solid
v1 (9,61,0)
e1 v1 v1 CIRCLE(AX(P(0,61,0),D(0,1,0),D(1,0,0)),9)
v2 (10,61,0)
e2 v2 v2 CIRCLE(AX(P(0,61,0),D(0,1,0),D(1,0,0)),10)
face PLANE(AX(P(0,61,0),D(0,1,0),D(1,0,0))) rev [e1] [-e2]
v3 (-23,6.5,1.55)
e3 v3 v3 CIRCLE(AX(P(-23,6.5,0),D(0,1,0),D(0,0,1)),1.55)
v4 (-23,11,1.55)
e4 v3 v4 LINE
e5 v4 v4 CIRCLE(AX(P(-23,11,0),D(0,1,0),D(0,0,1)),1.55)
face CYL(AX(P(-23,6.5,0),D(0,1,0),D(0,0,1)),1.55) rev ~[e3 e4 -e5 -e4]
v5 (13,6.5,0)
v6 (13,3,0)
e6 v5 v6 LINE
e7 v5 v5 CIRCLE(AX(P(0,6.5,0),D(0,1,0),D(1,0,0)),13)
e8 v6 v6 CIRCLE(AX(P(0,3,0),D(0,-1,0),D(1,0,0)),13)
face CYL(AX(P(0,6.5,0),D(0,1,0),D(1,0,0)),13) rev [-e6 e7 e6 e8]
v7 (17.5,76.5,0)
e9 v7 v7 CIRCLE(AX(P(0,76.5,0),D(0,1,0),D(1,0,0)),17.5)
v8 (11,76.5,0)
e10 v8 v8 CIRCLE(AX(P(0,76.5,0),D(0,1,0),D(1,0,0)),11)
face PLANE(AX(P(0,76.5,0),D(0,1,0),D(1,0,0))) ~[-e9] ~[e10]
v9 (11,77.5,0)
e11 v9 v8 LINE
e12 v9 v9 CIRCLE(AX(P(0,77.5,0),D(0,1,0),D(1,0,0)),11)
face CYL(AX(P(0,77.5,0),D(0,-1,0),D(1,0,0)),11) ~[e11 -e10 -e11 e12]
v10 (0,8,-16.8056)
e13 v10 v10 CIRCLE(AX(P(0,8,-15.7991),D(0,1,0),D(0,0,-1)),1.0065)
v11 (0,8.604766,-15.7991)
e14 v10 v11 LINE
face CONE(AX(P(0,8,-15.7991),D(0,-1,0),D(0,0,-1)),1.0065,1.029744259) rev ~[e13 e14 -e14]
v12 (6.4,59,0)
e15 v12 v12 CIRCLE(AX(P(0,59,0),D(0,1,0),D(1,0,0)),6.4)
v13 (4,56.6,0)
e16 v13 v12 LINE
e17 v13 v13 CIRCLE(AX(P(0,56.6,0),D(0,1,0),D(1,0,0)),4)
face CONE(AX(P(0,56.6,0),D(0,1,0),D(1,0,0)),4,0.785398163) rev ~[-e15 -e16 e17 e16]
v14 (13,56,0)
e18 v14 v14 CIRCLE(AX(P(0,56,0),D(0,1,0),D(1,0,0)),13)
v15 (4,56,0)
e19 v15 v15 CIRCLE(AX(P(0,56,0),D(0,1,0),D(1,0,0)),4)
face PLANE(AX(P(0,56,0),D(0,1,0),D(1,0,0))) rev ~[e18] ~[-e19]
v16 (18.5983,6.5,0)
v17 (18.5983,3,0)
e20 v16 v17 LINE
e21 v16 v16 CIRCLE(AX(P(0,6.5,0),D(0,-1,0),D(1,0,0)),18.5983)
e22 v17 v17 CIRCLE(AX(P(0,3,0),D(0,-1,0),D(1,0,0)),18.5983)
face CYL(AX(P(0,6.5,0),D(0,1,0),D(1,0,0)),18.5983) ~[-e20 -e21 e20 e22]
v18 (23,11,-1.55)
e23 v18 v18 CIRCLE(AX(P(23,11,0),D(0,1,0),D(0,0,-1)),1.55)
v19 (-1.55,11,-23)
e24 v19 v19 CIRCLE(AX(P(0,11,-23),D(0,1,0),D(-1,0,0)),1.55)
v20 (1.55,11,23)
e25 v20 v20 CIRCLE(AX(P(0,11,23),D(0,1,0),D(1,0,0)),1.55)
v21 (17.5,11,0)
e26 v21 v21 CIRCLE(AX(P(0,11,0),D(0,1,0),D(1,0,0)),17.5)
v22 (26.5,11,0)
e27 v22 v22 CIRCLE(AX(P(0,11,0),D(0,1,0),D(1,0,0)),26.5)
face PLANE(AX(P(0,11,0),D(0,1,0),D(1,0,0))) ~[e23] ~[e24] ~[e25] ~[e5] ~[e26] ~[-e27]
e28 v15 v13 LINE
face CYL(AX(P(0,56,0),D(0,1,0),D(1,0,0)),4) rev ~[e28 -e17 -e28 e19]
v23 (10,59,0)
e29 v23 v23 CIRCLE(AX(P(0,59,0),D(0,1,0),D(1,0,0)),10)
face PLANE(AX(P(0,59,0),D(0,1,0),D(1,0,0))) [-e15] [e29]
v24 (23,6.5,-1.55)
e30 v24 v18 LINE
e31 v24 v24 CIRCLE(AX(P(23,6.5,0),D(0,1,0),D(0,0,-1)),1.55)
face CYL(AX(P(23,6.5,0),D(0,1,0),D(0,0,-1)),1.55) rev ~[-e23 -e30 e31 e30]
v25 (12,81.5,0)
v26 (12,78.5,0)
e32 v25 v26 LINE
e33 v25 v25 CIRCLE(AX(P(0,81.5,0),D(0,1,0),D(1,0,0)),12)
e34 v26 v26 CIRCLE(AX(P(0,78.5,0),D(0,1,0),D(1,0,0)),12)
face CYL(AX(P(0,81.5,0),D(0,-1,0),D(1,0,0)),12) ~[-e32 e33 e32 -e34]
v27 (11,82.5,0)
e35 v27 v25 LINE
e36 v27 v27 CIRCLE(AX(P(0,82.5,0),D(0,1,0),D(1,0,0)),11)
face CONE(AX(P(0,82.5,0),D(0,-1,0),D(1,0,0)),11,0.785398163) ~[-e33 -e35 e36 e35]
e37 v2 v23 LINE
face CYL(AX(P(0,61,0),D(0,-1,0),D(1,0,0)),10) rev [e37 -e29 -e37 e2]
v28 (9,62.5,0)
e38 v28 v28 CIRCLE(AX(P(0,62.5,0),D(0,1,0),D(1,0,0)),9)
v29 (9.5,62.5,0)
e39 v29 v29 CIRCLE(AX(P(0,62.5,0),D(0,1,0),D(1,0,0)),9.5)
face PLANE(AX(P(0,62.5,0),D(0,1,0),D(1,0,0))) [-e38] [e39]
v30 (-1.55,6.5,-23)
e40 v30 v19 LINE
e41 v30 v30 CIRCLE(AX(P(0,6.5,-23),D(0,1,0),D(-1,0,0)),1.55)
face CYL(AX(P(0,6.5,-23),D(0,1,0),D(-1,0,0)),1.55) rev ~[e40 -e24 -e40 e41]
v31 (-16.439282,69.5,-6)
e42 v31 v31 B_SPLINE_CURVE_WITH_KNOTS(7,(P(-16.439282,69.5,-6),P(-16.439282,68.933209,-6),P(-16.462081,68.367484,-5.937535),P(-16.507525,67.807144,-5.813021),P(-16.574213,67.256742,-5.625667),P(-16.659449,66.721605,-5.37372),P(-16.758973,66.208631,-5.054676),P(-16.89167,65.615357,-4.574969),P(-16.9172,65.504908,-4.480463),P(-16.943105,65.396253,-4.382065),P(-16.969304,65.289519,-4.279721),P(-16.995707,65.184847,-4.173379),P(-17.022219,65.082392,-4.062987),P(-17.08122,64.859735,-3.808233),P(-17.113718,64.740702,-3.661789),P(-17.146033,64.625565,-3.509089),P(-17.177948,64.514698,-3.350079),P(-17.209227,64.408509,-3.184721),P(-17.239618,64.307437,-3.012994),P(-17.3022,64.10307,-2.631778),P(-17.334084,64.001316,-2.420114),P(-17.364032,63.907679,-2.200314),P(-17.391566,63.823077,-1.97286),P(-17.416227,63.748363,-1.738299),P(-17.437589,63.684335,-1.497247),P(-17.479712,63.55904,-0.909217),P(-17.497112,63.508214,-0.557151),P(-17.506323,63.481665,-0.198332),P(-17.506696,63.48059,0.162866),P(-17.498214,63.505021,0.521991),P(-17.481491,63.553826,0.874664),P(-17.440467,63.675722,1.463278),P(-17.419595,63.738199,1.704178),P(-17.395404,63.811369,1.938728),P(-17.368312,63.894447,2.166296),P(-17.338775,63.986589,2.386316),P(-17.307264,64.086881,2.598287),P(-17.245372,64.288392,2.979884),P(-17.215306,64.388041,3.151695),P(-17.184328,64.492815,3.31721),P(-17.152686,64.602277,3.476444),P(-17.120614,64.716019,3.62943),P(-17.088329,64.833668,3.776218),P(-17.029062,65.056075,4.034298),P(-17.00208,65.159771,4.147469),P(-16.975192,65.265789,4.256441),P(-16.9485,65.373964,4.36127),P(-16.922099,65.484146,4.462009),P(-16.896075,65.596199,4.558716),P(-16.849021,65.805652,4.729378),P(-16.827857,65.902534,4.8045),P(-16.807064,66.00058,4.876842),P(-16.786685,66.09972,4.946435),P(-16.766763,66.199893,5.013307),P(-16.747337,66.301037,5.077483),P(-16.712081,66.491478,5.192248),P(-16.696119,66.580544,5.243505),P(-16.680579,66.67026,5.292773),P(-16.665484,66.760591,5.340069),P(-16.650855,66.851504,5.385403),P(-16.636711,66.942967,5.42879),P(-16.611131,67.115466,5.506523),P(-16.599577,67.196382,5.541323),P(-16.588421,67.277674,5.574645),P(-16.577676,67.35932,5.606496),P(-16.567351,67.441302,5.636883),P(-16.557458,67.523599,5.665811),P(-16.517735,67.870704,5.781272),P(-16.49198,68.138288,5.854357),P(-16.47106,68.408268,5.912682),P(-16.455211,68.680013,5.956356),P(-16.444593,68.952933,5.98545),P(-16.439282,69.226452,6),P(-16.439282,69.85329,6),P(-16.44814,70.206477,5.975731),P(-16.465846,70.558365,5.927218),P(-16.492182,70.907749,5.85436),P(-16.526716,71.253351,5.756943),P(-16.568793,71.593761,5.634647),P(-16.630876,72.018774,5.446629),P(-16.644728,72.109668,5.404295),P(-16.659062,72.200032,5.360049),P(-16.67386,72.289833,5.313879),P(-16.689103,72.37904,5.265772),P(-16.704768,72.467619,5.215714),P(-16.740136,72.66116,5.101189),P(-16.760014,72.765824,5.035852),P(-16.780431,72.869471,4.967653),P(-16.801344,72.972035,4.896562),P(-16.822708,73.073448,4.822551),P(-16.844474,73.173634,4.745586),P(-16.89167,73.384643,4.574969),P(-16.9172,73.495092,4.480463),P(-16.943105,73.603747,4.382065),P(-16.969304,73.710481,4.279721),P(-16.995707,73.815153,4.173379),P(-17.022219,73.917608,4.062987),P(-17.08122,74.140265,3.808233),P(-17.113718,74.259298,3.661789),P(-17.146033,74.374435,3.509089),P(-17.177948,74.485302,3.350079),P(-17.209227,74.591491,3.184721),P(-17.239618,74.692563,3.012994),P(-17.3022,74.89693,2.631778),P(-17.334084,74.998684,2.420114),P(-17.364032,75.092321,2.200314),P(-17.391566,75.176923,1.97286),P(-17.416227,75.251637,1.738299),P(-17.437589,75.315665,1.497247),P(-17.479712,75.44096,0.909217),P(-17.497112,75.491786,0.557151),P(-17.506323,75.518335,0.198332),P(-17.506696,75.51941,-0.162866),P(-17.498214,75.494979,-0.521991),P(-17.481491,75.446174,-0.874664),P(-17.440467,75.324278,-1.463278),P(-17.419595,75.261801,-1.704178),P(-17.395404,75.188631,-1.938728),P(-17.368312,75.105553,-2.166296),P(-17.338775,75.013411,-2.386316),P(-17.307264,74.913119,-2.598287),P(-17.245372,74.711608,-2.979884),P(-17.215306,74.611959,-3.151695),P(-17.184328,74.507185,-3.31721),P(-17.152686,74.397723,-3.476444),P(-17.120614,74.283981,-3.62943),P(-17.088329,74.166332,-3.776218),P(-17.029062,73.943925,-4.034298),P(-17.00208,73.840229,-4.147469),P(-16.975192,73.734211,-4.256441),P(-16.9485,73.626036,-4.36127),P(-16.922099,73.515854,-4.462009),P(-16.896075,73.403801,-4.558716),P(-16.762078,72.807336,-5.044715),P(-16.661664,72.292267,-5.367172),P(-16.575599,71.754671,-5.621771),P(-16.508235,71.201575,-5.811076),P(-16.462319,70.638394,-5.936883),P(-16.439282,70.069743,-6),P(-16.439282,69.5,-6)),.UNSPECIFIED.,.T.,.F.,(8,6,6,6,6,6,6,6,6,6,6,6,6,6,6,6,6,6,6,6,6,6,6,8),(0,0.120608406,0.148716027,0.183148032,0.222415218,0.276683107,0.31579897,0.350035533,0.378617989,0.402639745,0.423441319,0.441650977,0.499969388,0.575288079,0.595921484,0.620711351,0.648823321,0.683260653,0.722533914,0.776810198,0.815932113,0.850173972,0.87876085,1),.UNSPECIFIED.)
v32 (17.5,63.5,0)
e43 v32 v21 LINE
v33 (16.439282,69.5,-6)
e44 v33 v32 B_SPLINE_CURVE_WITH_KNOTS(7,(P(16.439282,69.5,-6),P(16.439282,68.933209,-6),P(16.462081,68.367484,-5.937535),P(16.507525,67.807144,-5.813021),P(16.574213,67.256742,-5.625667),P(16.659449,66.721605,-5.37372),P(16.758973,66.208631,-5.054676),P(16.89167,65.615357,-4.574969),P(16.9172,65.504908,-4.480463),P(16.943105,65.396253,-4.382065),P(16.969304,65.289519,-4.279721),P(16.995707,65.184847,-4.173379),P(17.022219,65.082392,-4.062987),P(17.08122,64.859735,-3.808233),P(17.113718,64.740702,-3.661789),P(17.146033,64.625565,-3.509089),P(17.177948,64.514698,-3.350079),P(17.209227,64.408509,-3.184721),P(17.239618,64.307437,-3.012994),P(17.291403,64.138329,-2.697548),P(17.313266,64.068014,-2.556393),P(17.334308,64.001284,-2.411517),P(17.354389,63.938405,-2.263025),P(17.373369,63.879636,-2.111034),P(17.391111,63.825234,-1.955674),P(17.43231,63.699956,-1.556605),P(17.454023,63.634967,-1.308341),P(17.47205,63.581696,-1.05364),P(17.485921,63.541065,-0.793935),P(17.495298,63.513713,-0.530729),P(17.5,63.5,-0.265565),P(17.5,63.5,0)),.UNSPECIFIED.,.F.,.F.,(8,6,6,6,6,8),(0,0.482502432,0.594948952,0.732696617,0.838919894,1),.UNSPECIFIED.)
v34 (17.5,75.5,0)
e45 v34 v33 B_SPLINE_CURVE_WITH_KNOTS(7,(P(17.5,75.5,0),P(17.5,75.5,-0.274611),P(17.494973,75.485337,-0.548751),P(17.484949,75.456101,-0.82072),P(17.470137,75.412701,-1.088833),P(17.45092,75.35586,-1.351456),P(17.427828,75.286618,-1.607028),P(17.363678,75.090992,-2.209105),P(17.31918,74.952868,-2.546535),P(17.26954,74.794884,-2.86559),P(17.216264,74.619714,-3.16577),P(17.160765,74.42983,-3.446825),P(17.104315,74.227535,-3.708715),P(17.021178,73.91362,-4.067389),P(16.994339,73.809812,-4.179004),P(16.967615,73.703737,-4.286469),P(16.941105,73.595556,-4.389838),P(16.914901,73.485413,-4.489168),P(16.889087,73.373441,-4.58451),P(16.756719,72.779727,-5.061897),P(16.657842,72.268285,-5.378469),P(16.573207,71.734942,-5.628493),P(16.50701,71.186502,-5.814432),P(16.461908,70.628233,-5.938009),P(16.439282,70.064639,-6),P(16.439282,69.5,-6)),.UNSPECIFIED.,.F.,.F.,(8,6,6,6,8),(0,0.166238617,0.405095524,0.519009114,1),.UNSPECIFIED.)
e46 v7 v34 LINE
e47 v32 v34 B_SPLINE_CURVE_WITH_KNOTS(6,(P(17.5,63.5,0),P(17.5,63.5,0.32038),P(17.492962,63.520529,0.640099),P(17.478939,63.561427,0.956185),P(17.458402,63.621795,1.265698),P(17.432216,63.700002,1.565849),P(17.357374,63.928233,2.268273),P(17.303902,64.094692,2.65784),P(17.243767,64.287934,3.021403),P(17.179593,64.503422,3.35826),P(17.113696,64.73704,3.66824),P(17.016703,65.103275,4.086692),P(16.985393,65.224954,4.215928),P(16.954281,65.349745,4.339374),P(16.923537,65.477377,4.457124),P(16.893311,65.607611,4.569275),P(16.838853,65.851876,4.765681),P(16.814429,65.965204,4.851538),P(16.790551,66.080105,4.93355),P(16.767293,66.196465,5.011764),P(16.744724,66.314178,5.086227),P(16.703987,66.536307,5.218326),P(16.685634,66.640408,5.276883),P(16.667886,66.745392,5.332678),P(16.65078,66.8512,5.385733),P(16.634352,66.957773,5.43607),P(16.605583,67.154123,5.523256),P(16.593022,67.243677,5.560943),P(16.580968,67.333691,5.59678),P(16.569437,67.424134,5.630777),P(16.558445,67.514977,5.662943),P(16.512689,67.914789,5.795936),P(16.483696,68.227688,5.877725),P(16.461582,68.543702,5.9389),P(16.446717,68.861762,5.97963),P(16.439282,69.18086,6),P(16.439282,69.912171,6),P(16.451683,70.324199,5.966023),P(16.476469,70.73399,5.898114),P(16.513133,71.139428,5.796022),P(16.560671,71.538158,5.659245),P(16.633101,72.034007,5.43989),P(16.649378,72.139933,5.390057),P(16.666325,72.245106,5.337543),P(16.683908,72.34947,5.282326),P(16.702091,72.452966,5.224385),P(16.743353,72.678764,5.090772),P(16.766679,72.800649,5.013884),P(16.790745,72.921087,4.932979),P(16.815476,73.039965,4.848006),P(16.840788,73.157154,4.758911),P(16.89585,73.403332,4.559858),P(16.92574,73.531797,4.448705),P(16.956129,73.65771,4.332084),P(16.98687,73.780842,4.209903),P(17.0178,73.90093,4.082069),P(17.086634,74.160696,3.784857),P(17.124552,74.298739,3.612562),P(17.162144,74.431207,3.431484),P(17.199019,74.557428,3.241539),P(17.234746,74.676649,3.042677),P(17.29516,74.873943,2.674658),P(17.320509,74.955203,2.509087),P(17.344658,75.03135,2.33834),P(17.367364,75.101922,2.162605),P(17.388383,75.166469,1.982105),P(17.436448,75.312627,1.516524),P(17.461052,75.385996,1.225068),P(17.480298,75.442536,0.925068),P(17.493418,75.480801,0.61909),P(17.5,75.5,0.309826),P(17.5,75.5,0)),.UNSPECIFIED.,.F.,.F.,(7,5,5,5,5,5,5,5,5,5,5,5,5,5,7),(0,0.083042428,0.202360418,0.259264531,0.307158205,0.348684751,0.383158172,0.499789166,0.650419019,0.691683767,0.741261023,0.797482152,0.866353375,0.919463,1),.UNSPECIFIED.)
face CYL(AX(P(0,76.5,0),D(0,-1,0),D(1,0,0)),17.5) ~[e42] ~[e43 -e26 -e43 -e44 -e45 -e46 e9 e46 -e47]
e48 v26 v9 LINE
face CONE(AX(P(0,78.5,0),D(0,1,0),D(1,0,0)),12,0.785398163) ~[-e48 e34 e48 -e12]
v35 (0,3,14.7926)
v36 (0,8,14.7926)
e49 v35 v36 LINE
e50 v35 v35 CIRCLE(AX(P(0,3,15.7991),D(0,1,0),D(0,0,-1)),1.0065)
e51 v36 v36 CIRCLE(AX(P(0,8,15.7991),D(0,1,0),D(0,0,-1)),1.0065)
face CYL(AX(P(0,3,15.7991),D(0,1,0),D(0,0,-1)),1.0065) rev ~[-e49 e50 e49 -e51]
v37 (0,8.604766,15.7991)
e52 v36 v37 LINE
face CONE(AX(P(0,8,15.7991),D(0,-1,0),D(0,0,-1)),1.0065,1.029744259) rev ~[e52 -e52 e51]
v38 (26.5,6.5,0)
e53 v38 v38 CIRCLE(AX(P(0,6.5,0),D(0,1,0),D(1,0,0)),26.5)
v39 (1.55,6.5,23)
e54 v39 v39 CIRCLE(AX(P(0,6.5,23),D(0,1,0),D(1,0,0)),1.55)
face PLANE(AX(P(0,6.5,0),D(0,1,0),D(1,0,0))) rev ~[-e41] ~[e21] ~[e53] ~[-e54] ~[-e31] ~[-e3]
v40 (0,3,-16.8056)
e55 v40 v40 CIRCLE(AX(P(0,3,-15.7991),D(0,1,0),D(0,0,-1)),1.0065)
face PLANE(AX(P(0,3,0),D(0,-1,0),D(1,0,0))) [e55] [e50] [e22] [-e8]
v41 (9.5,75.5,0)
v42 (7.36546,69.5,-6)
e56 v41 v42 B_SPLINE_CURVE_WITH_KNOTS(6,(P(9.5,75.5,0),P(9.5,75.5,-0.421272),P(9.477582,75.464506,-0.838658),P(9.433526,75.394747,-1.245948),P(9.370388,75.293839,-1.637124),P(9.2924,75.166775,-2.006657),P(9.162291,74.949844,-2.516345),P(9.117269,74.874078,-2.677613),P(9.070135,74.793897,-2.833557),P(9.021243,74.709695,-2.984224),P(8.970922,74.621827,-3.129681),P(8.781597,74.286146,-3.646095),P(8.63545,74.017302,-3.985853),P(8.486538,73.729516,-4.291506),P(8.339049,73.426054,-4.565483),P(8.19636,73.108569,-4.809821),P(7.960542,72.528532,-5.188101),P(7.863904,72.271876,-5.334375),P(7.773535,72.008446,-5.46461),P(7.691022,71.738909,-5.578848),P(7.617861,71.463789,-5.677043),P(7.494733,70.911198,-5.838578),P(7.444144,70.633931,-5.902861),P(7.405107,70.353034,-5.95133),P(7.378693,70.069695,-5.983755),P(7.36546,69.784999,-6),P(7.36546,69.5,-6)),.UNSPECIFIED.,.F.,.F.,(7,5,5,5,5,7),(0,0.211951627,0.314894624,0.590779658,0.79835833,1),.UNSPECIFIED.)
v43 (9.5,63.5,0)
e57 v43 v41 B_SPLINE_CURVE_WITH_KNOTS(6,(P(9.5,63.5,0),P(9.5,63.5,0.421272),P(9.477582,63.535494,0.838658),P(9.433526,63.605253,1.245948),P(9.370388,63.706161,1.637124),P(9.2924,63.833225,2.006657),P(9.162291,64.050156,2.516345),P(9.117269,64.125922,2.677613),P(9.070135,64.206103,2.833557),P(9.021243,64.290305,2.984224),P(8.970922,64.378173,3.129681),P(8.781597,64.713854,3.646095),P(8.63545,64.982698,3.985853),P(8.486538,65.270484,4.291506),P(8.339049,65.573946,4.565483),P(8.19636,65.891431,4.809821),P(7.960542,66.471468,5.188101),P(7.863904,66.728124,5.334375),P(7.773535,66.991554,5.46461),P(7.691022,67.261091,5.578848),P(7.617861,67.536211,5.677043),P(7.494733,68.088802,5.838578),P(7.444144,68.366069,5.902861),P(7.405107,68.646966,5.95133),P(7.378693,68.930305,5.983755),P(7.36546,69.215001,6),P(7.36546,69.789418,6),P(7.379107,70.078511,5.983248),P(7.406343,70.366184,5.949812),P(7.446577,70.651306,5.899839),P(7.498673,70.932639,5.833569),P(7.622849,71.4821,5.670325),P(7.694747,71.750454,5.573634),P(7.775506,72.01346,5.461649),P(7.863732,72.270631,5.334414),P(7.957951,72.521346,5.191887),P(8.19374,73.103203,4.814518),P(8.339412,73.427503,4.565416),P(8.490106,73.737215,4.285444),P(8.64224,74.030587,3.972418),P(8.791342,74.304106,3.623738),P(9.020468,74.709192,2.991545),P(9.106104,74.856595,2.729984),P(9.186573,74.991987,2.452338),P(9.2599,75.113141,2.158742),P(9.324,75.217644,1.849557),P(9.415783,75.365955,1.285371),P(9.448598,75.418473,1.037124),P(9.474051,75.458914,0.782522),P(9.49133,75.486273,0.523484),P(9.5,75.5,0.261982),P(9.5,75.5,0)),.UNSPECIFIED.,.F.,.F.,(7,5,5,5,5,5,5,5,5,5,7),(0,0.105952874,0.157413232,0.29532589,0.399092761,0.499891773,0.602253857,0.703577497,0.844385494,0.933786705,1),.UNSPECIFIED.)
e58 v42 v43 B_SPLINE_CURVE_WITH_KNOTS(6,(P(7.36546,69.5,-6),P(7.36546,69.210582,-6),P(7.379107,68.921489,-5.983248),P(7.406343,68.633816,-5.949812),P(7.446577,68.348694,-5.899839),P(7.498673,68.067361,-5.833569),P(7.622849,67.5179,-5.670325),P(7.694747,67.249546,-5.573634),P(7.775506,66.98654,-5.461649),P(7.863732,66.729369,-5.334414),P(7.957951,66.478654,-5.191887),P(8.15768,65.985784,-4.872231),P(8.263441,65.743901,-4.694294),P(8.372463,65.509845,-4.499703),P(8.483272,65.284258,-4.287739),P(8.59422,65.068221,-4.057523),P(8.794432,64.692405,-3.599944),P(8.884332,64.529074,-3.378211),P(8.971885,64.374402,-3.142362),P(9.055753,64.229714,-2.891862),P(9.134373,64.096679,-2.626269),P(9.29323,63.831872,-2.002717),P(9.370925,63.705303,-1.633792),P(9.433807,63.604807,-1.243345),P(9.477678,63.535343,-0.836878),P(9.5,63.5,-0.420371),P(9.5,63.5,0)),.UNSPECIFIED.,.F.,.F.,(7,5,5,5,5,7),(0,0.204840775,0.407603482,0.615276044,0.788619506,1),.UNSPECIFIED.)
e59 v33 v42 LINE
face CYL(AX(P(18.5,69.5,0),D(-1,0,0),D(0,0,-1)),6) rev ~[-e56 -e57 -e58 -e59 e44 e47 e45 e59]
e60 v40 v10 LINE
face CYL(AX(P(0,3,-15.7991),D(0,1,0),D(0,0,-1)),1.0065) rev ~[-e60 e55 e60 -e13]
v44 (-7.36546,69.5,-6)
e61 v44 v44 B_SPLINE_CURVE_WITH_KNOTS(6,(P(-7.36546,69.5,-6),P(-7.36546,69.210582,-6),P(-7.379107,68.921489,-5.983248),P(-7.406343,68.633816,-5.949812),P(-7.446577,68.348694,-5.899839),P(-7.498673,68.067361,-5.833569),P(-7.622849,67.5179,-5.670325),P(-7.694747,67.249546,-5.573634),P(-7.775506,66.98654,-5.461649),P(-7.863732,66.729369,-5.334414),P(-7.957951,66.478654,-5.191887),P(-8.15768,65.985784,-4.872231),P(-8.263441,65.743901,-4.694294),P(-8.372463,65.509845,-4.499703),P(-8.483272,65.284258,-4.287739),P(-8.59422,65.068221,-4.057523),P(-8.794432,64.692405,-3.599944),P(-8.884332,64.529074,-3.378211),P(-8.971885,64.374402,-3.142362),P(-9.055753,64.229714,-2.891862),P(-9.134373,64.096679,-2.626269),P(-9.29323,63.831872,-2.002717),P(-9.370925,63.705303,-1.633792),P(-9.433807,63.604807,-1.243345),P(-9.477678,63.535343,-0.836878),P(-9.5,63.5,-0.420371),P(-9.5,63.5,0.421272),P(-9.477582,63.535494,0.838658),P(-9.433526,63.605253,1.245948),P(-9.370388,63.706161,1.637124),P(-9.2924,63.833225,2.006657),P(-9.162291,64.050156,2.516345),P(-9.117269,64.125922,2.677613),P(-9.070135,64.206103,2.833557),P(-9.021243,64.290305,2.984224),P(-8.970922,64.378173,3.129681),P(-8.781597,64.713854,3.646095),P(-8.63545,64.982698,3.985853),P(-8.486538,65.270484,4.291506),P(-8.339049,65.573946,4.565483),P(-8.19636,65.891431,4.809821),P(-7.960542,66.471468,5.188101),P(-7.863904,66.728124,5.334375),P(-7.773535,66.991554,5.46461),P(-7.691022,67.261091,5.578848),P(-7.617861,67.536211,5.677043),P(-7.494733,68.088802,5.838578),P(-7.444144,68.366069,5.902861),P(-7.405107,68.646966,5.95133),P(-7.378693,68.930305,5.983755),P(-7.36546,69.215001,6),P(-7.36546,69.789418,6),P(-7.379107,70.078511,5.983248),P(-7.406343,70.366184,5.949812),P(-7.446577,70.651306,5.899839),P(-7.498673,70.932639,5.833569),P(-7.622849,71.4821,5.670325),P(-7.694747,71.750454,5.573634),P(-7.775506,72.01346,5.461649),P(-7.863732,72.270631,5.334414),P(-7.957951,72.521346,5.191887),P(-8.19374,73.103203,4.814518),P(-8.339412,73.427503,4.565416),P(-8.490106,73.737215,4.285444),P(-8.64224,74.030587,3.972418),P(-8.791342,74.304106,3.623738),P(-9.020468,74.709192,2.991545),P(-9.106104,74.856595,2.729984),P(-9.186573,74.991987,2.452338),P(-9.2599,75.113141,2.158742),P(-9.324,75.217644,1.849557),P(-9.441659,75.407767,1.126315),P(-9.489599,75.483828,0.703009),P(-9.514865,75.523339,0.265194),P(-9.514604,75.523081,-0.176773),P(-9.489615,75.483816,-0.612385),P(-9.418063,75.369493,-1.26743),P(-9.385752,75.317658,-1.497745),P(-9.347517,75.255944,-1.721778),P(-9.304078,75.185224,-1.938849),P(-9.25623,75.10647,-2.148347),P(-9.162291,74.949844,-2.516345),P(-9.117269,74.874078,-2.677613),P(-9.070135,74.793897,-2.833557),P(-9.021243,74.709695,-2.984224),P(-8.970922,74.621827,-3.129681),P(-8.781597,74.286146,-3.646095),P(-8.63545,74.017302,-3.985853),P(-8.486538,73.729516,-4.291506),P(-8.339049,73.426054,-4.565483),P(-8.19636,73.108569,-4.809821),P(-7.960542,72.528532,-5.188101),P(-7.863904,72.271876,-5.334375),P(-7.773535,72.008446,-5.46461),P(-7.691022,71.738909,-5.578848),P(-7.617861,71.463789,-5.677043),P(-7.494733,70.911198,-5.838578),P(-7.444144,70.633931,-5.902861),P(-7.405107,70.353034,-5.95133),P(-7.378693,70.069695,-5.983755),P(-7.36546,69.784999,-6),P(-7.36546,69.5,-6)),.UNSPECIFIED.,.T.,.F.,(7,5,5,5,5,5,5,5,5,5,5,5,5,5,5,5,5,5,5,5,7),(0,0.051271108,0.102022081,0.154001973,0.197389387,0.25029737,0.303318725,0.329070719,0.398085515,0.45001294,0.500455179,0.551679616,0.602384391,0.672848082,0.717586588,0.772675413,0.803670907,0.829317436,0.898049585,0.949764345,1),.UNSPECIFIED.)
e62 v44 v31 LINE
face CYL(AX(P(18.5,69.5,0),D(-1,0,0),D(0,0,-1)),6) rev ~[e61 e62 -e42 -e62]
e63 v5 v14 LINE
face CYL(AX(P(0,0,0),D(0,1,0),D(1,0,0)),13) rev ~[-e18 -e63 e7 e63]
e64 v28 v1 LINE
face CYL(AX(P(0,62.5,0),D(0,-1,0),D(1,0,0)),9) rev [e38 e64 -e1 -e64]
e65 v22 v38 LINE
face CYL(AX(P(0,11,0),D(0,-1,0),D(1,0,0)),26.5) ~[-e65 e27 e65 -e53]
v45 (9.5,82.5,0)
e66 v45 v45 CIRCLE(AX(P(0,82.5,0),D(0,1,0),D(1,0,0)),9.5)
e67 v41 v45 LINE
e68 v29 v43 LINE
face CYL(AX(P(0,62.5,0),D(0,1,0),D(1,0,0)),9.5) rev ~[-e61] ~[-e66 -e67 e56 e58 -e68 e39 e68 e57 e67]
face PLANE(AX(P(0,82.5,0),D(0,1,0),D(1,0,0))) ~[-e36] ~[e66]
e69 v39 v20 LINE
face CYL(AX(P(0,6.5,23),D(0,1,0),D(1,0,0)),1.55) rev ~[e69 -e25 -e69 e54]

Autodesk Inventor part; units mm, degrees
ref_plane "XZ Plane" through (0, 0, 0) normal (0, 1, 0) x (-1, 0, 0)
ref_plane "XY Plane" through (0, 0, 0) normal (0, 0, 1) x (1, 0, 0)
sketch "Sketch1" plane through (0, 0, 0) normal (0, 0, 1) x (1, 0, 0)
  line L0 (0, 0) -> (0, 82.5)
  line L1 (11, 82.5) -> (12, 81.5)
  line L2 (12, 81.5) -> (12, 78.5)
  line L3 (12, 78.5) -> (11, 77.5)
  line L4 (11, 77.5) -> (11, 76.5)
  line L5 (11, 76.5) -> (17.5, 76.5)
  line L6 (17.5, 76.5) -> (17.5, 11)
  line L7 (17.5, 11) -> (26.5, 11)
  line L8 (26.5, 11) -> (26.5, 6.5)
  line L9 (15, 0) -> (13, 0)
  line L10 (13, 0) -> (13, 56)
  line L11 (13, 56) -> (4, 56)
  line L12 (9.5, 62.5) -> (9.5, 82.5)
  line L13 (9.5, 82.5) -> (11, 82.5)
  line L14 (9.5, 62.5) -> (9, 62.5)
  line L15 (9, 62.5) -> (9, 61)
  line L16 (10, 59) -> (6.4, 59)
  line L17 (-4, 47) -> (4, 47)
  line L18 (4, 47) -> (4, 45)
  line L19 (4, 45) -> (-4, 45)
  line L20 (-4, 45) -> (-4, 47)
  line L21 (-4, 47) -> (4, 45) construction
  line L22 (4, 47) -> (-4, 45) construction
  line L23 (9, 61) -> (10, 61)
  line L24 (10, 61) -> (10, 59)
  line L25 (4, 56) -> (4, 56.6)
  line L26 (4, 56.6) -> (6.4, 59)
  circle A0 centre (5, 59) radius 1
  line L27 (26.5, 6.5) -> (13, 6.5)
  point P0 (0, 46)
  dimension "d0" = 26
  dimension "d1" = 35
  dimension "d8" = 56
  dimension "d11" = 24
  dimension "d14" = 135
  dimension "d15" = 22
  dimension "d16" = 22
  dimension "d18" = 3
  dimension "d22" = 19
  dimension "d26" = 135
  dimension "d28" = 6
  dimension "d30" = 18
  dimension "d38" = 8
  dimension "d39" = 2
  dimension "d50" = 14
  dimension "d59" = 20
  dimension "d60" = 2
  dimension "d61" = 3.5
  dimension "d62" = 0.6
  dimension "d63" = 3
  dimension "d64" = 2
  dimension "d65" = 10
  dimension "d66" = 8
  dimension "d67" = 135
  dimension "d68" = 53
  dimension "d69" = 11
  dimension "d70" = 4.5
revolve "Revolution1" add sketch "Sketch1" angle 360 about axis through (0, 0, 0) along (0, 1, 0) picked at (5.7132, 58.309) contours L1 L2 L3 L4 L5 L6 L7 L8 L27 L10 L11 L25 L26 A0 L16 L24 L23 L15 L14 L12 L13 | A0 L26
ref_plane "Work Plane1" through (18.5, 0, 0) normal (1, 0, 0) x (0, 1, 0)
sketch "Sketch2" plane through (18.5, 0, 0) normal (1, 0, 0) x (0, 1, 0)
  line L0 (76.5, 17.5) -> (76.5, -17.5) projected
  point P0 (0, 0)
  point P1 (69.5, 0)
  point P2 (76.5, 0)
  dimension "d41" = 7
hole "Hole1" at (18.5, 69.5, 0) direction (-1, 0, 0) diameter 12 end through all
thread "Thread1" size "M24x1" class "6g" standard "ANSI Metric M Profile" full length
thread "Thread2" size "M18x0.5" class "6H" standard "ANSI Metric M Profile" full length
sketch "Sketch3" plane through (0, 6.5, 0) normal (0, -1, 0) x (1, 0, 0)
  point P0 (0, 0)
  point P1 (23, 0)
  dimension "d71" = 23
hole "Hole2" at (23, 6.5, 0) direction (0, 1, 0) diameter 3.1 end through all clearance for "Countersunk Flat Head Screw DIN EN ISO 2009" size "M2.5" standard "DIN"
pattern_circular "Circular Pattern1" count 4 over 360 about axis through (0, 43.75, 0) along (0, -1, 0) of "Hole2"
sketch "Sketch4" plane through (0, 6.5, 0) normal (0, -1, 0) x (1, 0, 0)
  circle A0 centre (0, 0) radius 13 projected
  circle A1 centre (0, 0) radius 18.5983
extrude "Extrusion1" add sketch "Sketch4" along normal blind 3.5
sketch "Sketch5" plane through (0, 3, 0) normal (0, -1, 0) x (1, 0, 0)
  circle A0 centre (0, 0) radius 18.5983 projected
  circle A1 centre (0, 0) radius 13 projected
  circle A2 centre (0, 0) radius 13 projected
  line L0 (0, 13) -> (0, 18.5983)
  circle A3 centre (0, 0) radius 18.5983 projected
  line L1 (0, -18.5983) -> (0, -13)
  point P0 (0, 0)
  point P1 (0, 15.7991)
  point P2 (0, -15.7991)
hole "Hole3" at (0, 3, 15.7991) at (0, 3, -15.7991) direction (0, 1, 0) diameter 2.013 depth 5 tip angle 118 thread size "M2.5x0.45" class "6H" standard "ISO Metric profile"
equation "\"d14\" = d13"
equation "\"d13\" = 135deg"
properties part number "013" material "Stainless Steel, Austenitic"
